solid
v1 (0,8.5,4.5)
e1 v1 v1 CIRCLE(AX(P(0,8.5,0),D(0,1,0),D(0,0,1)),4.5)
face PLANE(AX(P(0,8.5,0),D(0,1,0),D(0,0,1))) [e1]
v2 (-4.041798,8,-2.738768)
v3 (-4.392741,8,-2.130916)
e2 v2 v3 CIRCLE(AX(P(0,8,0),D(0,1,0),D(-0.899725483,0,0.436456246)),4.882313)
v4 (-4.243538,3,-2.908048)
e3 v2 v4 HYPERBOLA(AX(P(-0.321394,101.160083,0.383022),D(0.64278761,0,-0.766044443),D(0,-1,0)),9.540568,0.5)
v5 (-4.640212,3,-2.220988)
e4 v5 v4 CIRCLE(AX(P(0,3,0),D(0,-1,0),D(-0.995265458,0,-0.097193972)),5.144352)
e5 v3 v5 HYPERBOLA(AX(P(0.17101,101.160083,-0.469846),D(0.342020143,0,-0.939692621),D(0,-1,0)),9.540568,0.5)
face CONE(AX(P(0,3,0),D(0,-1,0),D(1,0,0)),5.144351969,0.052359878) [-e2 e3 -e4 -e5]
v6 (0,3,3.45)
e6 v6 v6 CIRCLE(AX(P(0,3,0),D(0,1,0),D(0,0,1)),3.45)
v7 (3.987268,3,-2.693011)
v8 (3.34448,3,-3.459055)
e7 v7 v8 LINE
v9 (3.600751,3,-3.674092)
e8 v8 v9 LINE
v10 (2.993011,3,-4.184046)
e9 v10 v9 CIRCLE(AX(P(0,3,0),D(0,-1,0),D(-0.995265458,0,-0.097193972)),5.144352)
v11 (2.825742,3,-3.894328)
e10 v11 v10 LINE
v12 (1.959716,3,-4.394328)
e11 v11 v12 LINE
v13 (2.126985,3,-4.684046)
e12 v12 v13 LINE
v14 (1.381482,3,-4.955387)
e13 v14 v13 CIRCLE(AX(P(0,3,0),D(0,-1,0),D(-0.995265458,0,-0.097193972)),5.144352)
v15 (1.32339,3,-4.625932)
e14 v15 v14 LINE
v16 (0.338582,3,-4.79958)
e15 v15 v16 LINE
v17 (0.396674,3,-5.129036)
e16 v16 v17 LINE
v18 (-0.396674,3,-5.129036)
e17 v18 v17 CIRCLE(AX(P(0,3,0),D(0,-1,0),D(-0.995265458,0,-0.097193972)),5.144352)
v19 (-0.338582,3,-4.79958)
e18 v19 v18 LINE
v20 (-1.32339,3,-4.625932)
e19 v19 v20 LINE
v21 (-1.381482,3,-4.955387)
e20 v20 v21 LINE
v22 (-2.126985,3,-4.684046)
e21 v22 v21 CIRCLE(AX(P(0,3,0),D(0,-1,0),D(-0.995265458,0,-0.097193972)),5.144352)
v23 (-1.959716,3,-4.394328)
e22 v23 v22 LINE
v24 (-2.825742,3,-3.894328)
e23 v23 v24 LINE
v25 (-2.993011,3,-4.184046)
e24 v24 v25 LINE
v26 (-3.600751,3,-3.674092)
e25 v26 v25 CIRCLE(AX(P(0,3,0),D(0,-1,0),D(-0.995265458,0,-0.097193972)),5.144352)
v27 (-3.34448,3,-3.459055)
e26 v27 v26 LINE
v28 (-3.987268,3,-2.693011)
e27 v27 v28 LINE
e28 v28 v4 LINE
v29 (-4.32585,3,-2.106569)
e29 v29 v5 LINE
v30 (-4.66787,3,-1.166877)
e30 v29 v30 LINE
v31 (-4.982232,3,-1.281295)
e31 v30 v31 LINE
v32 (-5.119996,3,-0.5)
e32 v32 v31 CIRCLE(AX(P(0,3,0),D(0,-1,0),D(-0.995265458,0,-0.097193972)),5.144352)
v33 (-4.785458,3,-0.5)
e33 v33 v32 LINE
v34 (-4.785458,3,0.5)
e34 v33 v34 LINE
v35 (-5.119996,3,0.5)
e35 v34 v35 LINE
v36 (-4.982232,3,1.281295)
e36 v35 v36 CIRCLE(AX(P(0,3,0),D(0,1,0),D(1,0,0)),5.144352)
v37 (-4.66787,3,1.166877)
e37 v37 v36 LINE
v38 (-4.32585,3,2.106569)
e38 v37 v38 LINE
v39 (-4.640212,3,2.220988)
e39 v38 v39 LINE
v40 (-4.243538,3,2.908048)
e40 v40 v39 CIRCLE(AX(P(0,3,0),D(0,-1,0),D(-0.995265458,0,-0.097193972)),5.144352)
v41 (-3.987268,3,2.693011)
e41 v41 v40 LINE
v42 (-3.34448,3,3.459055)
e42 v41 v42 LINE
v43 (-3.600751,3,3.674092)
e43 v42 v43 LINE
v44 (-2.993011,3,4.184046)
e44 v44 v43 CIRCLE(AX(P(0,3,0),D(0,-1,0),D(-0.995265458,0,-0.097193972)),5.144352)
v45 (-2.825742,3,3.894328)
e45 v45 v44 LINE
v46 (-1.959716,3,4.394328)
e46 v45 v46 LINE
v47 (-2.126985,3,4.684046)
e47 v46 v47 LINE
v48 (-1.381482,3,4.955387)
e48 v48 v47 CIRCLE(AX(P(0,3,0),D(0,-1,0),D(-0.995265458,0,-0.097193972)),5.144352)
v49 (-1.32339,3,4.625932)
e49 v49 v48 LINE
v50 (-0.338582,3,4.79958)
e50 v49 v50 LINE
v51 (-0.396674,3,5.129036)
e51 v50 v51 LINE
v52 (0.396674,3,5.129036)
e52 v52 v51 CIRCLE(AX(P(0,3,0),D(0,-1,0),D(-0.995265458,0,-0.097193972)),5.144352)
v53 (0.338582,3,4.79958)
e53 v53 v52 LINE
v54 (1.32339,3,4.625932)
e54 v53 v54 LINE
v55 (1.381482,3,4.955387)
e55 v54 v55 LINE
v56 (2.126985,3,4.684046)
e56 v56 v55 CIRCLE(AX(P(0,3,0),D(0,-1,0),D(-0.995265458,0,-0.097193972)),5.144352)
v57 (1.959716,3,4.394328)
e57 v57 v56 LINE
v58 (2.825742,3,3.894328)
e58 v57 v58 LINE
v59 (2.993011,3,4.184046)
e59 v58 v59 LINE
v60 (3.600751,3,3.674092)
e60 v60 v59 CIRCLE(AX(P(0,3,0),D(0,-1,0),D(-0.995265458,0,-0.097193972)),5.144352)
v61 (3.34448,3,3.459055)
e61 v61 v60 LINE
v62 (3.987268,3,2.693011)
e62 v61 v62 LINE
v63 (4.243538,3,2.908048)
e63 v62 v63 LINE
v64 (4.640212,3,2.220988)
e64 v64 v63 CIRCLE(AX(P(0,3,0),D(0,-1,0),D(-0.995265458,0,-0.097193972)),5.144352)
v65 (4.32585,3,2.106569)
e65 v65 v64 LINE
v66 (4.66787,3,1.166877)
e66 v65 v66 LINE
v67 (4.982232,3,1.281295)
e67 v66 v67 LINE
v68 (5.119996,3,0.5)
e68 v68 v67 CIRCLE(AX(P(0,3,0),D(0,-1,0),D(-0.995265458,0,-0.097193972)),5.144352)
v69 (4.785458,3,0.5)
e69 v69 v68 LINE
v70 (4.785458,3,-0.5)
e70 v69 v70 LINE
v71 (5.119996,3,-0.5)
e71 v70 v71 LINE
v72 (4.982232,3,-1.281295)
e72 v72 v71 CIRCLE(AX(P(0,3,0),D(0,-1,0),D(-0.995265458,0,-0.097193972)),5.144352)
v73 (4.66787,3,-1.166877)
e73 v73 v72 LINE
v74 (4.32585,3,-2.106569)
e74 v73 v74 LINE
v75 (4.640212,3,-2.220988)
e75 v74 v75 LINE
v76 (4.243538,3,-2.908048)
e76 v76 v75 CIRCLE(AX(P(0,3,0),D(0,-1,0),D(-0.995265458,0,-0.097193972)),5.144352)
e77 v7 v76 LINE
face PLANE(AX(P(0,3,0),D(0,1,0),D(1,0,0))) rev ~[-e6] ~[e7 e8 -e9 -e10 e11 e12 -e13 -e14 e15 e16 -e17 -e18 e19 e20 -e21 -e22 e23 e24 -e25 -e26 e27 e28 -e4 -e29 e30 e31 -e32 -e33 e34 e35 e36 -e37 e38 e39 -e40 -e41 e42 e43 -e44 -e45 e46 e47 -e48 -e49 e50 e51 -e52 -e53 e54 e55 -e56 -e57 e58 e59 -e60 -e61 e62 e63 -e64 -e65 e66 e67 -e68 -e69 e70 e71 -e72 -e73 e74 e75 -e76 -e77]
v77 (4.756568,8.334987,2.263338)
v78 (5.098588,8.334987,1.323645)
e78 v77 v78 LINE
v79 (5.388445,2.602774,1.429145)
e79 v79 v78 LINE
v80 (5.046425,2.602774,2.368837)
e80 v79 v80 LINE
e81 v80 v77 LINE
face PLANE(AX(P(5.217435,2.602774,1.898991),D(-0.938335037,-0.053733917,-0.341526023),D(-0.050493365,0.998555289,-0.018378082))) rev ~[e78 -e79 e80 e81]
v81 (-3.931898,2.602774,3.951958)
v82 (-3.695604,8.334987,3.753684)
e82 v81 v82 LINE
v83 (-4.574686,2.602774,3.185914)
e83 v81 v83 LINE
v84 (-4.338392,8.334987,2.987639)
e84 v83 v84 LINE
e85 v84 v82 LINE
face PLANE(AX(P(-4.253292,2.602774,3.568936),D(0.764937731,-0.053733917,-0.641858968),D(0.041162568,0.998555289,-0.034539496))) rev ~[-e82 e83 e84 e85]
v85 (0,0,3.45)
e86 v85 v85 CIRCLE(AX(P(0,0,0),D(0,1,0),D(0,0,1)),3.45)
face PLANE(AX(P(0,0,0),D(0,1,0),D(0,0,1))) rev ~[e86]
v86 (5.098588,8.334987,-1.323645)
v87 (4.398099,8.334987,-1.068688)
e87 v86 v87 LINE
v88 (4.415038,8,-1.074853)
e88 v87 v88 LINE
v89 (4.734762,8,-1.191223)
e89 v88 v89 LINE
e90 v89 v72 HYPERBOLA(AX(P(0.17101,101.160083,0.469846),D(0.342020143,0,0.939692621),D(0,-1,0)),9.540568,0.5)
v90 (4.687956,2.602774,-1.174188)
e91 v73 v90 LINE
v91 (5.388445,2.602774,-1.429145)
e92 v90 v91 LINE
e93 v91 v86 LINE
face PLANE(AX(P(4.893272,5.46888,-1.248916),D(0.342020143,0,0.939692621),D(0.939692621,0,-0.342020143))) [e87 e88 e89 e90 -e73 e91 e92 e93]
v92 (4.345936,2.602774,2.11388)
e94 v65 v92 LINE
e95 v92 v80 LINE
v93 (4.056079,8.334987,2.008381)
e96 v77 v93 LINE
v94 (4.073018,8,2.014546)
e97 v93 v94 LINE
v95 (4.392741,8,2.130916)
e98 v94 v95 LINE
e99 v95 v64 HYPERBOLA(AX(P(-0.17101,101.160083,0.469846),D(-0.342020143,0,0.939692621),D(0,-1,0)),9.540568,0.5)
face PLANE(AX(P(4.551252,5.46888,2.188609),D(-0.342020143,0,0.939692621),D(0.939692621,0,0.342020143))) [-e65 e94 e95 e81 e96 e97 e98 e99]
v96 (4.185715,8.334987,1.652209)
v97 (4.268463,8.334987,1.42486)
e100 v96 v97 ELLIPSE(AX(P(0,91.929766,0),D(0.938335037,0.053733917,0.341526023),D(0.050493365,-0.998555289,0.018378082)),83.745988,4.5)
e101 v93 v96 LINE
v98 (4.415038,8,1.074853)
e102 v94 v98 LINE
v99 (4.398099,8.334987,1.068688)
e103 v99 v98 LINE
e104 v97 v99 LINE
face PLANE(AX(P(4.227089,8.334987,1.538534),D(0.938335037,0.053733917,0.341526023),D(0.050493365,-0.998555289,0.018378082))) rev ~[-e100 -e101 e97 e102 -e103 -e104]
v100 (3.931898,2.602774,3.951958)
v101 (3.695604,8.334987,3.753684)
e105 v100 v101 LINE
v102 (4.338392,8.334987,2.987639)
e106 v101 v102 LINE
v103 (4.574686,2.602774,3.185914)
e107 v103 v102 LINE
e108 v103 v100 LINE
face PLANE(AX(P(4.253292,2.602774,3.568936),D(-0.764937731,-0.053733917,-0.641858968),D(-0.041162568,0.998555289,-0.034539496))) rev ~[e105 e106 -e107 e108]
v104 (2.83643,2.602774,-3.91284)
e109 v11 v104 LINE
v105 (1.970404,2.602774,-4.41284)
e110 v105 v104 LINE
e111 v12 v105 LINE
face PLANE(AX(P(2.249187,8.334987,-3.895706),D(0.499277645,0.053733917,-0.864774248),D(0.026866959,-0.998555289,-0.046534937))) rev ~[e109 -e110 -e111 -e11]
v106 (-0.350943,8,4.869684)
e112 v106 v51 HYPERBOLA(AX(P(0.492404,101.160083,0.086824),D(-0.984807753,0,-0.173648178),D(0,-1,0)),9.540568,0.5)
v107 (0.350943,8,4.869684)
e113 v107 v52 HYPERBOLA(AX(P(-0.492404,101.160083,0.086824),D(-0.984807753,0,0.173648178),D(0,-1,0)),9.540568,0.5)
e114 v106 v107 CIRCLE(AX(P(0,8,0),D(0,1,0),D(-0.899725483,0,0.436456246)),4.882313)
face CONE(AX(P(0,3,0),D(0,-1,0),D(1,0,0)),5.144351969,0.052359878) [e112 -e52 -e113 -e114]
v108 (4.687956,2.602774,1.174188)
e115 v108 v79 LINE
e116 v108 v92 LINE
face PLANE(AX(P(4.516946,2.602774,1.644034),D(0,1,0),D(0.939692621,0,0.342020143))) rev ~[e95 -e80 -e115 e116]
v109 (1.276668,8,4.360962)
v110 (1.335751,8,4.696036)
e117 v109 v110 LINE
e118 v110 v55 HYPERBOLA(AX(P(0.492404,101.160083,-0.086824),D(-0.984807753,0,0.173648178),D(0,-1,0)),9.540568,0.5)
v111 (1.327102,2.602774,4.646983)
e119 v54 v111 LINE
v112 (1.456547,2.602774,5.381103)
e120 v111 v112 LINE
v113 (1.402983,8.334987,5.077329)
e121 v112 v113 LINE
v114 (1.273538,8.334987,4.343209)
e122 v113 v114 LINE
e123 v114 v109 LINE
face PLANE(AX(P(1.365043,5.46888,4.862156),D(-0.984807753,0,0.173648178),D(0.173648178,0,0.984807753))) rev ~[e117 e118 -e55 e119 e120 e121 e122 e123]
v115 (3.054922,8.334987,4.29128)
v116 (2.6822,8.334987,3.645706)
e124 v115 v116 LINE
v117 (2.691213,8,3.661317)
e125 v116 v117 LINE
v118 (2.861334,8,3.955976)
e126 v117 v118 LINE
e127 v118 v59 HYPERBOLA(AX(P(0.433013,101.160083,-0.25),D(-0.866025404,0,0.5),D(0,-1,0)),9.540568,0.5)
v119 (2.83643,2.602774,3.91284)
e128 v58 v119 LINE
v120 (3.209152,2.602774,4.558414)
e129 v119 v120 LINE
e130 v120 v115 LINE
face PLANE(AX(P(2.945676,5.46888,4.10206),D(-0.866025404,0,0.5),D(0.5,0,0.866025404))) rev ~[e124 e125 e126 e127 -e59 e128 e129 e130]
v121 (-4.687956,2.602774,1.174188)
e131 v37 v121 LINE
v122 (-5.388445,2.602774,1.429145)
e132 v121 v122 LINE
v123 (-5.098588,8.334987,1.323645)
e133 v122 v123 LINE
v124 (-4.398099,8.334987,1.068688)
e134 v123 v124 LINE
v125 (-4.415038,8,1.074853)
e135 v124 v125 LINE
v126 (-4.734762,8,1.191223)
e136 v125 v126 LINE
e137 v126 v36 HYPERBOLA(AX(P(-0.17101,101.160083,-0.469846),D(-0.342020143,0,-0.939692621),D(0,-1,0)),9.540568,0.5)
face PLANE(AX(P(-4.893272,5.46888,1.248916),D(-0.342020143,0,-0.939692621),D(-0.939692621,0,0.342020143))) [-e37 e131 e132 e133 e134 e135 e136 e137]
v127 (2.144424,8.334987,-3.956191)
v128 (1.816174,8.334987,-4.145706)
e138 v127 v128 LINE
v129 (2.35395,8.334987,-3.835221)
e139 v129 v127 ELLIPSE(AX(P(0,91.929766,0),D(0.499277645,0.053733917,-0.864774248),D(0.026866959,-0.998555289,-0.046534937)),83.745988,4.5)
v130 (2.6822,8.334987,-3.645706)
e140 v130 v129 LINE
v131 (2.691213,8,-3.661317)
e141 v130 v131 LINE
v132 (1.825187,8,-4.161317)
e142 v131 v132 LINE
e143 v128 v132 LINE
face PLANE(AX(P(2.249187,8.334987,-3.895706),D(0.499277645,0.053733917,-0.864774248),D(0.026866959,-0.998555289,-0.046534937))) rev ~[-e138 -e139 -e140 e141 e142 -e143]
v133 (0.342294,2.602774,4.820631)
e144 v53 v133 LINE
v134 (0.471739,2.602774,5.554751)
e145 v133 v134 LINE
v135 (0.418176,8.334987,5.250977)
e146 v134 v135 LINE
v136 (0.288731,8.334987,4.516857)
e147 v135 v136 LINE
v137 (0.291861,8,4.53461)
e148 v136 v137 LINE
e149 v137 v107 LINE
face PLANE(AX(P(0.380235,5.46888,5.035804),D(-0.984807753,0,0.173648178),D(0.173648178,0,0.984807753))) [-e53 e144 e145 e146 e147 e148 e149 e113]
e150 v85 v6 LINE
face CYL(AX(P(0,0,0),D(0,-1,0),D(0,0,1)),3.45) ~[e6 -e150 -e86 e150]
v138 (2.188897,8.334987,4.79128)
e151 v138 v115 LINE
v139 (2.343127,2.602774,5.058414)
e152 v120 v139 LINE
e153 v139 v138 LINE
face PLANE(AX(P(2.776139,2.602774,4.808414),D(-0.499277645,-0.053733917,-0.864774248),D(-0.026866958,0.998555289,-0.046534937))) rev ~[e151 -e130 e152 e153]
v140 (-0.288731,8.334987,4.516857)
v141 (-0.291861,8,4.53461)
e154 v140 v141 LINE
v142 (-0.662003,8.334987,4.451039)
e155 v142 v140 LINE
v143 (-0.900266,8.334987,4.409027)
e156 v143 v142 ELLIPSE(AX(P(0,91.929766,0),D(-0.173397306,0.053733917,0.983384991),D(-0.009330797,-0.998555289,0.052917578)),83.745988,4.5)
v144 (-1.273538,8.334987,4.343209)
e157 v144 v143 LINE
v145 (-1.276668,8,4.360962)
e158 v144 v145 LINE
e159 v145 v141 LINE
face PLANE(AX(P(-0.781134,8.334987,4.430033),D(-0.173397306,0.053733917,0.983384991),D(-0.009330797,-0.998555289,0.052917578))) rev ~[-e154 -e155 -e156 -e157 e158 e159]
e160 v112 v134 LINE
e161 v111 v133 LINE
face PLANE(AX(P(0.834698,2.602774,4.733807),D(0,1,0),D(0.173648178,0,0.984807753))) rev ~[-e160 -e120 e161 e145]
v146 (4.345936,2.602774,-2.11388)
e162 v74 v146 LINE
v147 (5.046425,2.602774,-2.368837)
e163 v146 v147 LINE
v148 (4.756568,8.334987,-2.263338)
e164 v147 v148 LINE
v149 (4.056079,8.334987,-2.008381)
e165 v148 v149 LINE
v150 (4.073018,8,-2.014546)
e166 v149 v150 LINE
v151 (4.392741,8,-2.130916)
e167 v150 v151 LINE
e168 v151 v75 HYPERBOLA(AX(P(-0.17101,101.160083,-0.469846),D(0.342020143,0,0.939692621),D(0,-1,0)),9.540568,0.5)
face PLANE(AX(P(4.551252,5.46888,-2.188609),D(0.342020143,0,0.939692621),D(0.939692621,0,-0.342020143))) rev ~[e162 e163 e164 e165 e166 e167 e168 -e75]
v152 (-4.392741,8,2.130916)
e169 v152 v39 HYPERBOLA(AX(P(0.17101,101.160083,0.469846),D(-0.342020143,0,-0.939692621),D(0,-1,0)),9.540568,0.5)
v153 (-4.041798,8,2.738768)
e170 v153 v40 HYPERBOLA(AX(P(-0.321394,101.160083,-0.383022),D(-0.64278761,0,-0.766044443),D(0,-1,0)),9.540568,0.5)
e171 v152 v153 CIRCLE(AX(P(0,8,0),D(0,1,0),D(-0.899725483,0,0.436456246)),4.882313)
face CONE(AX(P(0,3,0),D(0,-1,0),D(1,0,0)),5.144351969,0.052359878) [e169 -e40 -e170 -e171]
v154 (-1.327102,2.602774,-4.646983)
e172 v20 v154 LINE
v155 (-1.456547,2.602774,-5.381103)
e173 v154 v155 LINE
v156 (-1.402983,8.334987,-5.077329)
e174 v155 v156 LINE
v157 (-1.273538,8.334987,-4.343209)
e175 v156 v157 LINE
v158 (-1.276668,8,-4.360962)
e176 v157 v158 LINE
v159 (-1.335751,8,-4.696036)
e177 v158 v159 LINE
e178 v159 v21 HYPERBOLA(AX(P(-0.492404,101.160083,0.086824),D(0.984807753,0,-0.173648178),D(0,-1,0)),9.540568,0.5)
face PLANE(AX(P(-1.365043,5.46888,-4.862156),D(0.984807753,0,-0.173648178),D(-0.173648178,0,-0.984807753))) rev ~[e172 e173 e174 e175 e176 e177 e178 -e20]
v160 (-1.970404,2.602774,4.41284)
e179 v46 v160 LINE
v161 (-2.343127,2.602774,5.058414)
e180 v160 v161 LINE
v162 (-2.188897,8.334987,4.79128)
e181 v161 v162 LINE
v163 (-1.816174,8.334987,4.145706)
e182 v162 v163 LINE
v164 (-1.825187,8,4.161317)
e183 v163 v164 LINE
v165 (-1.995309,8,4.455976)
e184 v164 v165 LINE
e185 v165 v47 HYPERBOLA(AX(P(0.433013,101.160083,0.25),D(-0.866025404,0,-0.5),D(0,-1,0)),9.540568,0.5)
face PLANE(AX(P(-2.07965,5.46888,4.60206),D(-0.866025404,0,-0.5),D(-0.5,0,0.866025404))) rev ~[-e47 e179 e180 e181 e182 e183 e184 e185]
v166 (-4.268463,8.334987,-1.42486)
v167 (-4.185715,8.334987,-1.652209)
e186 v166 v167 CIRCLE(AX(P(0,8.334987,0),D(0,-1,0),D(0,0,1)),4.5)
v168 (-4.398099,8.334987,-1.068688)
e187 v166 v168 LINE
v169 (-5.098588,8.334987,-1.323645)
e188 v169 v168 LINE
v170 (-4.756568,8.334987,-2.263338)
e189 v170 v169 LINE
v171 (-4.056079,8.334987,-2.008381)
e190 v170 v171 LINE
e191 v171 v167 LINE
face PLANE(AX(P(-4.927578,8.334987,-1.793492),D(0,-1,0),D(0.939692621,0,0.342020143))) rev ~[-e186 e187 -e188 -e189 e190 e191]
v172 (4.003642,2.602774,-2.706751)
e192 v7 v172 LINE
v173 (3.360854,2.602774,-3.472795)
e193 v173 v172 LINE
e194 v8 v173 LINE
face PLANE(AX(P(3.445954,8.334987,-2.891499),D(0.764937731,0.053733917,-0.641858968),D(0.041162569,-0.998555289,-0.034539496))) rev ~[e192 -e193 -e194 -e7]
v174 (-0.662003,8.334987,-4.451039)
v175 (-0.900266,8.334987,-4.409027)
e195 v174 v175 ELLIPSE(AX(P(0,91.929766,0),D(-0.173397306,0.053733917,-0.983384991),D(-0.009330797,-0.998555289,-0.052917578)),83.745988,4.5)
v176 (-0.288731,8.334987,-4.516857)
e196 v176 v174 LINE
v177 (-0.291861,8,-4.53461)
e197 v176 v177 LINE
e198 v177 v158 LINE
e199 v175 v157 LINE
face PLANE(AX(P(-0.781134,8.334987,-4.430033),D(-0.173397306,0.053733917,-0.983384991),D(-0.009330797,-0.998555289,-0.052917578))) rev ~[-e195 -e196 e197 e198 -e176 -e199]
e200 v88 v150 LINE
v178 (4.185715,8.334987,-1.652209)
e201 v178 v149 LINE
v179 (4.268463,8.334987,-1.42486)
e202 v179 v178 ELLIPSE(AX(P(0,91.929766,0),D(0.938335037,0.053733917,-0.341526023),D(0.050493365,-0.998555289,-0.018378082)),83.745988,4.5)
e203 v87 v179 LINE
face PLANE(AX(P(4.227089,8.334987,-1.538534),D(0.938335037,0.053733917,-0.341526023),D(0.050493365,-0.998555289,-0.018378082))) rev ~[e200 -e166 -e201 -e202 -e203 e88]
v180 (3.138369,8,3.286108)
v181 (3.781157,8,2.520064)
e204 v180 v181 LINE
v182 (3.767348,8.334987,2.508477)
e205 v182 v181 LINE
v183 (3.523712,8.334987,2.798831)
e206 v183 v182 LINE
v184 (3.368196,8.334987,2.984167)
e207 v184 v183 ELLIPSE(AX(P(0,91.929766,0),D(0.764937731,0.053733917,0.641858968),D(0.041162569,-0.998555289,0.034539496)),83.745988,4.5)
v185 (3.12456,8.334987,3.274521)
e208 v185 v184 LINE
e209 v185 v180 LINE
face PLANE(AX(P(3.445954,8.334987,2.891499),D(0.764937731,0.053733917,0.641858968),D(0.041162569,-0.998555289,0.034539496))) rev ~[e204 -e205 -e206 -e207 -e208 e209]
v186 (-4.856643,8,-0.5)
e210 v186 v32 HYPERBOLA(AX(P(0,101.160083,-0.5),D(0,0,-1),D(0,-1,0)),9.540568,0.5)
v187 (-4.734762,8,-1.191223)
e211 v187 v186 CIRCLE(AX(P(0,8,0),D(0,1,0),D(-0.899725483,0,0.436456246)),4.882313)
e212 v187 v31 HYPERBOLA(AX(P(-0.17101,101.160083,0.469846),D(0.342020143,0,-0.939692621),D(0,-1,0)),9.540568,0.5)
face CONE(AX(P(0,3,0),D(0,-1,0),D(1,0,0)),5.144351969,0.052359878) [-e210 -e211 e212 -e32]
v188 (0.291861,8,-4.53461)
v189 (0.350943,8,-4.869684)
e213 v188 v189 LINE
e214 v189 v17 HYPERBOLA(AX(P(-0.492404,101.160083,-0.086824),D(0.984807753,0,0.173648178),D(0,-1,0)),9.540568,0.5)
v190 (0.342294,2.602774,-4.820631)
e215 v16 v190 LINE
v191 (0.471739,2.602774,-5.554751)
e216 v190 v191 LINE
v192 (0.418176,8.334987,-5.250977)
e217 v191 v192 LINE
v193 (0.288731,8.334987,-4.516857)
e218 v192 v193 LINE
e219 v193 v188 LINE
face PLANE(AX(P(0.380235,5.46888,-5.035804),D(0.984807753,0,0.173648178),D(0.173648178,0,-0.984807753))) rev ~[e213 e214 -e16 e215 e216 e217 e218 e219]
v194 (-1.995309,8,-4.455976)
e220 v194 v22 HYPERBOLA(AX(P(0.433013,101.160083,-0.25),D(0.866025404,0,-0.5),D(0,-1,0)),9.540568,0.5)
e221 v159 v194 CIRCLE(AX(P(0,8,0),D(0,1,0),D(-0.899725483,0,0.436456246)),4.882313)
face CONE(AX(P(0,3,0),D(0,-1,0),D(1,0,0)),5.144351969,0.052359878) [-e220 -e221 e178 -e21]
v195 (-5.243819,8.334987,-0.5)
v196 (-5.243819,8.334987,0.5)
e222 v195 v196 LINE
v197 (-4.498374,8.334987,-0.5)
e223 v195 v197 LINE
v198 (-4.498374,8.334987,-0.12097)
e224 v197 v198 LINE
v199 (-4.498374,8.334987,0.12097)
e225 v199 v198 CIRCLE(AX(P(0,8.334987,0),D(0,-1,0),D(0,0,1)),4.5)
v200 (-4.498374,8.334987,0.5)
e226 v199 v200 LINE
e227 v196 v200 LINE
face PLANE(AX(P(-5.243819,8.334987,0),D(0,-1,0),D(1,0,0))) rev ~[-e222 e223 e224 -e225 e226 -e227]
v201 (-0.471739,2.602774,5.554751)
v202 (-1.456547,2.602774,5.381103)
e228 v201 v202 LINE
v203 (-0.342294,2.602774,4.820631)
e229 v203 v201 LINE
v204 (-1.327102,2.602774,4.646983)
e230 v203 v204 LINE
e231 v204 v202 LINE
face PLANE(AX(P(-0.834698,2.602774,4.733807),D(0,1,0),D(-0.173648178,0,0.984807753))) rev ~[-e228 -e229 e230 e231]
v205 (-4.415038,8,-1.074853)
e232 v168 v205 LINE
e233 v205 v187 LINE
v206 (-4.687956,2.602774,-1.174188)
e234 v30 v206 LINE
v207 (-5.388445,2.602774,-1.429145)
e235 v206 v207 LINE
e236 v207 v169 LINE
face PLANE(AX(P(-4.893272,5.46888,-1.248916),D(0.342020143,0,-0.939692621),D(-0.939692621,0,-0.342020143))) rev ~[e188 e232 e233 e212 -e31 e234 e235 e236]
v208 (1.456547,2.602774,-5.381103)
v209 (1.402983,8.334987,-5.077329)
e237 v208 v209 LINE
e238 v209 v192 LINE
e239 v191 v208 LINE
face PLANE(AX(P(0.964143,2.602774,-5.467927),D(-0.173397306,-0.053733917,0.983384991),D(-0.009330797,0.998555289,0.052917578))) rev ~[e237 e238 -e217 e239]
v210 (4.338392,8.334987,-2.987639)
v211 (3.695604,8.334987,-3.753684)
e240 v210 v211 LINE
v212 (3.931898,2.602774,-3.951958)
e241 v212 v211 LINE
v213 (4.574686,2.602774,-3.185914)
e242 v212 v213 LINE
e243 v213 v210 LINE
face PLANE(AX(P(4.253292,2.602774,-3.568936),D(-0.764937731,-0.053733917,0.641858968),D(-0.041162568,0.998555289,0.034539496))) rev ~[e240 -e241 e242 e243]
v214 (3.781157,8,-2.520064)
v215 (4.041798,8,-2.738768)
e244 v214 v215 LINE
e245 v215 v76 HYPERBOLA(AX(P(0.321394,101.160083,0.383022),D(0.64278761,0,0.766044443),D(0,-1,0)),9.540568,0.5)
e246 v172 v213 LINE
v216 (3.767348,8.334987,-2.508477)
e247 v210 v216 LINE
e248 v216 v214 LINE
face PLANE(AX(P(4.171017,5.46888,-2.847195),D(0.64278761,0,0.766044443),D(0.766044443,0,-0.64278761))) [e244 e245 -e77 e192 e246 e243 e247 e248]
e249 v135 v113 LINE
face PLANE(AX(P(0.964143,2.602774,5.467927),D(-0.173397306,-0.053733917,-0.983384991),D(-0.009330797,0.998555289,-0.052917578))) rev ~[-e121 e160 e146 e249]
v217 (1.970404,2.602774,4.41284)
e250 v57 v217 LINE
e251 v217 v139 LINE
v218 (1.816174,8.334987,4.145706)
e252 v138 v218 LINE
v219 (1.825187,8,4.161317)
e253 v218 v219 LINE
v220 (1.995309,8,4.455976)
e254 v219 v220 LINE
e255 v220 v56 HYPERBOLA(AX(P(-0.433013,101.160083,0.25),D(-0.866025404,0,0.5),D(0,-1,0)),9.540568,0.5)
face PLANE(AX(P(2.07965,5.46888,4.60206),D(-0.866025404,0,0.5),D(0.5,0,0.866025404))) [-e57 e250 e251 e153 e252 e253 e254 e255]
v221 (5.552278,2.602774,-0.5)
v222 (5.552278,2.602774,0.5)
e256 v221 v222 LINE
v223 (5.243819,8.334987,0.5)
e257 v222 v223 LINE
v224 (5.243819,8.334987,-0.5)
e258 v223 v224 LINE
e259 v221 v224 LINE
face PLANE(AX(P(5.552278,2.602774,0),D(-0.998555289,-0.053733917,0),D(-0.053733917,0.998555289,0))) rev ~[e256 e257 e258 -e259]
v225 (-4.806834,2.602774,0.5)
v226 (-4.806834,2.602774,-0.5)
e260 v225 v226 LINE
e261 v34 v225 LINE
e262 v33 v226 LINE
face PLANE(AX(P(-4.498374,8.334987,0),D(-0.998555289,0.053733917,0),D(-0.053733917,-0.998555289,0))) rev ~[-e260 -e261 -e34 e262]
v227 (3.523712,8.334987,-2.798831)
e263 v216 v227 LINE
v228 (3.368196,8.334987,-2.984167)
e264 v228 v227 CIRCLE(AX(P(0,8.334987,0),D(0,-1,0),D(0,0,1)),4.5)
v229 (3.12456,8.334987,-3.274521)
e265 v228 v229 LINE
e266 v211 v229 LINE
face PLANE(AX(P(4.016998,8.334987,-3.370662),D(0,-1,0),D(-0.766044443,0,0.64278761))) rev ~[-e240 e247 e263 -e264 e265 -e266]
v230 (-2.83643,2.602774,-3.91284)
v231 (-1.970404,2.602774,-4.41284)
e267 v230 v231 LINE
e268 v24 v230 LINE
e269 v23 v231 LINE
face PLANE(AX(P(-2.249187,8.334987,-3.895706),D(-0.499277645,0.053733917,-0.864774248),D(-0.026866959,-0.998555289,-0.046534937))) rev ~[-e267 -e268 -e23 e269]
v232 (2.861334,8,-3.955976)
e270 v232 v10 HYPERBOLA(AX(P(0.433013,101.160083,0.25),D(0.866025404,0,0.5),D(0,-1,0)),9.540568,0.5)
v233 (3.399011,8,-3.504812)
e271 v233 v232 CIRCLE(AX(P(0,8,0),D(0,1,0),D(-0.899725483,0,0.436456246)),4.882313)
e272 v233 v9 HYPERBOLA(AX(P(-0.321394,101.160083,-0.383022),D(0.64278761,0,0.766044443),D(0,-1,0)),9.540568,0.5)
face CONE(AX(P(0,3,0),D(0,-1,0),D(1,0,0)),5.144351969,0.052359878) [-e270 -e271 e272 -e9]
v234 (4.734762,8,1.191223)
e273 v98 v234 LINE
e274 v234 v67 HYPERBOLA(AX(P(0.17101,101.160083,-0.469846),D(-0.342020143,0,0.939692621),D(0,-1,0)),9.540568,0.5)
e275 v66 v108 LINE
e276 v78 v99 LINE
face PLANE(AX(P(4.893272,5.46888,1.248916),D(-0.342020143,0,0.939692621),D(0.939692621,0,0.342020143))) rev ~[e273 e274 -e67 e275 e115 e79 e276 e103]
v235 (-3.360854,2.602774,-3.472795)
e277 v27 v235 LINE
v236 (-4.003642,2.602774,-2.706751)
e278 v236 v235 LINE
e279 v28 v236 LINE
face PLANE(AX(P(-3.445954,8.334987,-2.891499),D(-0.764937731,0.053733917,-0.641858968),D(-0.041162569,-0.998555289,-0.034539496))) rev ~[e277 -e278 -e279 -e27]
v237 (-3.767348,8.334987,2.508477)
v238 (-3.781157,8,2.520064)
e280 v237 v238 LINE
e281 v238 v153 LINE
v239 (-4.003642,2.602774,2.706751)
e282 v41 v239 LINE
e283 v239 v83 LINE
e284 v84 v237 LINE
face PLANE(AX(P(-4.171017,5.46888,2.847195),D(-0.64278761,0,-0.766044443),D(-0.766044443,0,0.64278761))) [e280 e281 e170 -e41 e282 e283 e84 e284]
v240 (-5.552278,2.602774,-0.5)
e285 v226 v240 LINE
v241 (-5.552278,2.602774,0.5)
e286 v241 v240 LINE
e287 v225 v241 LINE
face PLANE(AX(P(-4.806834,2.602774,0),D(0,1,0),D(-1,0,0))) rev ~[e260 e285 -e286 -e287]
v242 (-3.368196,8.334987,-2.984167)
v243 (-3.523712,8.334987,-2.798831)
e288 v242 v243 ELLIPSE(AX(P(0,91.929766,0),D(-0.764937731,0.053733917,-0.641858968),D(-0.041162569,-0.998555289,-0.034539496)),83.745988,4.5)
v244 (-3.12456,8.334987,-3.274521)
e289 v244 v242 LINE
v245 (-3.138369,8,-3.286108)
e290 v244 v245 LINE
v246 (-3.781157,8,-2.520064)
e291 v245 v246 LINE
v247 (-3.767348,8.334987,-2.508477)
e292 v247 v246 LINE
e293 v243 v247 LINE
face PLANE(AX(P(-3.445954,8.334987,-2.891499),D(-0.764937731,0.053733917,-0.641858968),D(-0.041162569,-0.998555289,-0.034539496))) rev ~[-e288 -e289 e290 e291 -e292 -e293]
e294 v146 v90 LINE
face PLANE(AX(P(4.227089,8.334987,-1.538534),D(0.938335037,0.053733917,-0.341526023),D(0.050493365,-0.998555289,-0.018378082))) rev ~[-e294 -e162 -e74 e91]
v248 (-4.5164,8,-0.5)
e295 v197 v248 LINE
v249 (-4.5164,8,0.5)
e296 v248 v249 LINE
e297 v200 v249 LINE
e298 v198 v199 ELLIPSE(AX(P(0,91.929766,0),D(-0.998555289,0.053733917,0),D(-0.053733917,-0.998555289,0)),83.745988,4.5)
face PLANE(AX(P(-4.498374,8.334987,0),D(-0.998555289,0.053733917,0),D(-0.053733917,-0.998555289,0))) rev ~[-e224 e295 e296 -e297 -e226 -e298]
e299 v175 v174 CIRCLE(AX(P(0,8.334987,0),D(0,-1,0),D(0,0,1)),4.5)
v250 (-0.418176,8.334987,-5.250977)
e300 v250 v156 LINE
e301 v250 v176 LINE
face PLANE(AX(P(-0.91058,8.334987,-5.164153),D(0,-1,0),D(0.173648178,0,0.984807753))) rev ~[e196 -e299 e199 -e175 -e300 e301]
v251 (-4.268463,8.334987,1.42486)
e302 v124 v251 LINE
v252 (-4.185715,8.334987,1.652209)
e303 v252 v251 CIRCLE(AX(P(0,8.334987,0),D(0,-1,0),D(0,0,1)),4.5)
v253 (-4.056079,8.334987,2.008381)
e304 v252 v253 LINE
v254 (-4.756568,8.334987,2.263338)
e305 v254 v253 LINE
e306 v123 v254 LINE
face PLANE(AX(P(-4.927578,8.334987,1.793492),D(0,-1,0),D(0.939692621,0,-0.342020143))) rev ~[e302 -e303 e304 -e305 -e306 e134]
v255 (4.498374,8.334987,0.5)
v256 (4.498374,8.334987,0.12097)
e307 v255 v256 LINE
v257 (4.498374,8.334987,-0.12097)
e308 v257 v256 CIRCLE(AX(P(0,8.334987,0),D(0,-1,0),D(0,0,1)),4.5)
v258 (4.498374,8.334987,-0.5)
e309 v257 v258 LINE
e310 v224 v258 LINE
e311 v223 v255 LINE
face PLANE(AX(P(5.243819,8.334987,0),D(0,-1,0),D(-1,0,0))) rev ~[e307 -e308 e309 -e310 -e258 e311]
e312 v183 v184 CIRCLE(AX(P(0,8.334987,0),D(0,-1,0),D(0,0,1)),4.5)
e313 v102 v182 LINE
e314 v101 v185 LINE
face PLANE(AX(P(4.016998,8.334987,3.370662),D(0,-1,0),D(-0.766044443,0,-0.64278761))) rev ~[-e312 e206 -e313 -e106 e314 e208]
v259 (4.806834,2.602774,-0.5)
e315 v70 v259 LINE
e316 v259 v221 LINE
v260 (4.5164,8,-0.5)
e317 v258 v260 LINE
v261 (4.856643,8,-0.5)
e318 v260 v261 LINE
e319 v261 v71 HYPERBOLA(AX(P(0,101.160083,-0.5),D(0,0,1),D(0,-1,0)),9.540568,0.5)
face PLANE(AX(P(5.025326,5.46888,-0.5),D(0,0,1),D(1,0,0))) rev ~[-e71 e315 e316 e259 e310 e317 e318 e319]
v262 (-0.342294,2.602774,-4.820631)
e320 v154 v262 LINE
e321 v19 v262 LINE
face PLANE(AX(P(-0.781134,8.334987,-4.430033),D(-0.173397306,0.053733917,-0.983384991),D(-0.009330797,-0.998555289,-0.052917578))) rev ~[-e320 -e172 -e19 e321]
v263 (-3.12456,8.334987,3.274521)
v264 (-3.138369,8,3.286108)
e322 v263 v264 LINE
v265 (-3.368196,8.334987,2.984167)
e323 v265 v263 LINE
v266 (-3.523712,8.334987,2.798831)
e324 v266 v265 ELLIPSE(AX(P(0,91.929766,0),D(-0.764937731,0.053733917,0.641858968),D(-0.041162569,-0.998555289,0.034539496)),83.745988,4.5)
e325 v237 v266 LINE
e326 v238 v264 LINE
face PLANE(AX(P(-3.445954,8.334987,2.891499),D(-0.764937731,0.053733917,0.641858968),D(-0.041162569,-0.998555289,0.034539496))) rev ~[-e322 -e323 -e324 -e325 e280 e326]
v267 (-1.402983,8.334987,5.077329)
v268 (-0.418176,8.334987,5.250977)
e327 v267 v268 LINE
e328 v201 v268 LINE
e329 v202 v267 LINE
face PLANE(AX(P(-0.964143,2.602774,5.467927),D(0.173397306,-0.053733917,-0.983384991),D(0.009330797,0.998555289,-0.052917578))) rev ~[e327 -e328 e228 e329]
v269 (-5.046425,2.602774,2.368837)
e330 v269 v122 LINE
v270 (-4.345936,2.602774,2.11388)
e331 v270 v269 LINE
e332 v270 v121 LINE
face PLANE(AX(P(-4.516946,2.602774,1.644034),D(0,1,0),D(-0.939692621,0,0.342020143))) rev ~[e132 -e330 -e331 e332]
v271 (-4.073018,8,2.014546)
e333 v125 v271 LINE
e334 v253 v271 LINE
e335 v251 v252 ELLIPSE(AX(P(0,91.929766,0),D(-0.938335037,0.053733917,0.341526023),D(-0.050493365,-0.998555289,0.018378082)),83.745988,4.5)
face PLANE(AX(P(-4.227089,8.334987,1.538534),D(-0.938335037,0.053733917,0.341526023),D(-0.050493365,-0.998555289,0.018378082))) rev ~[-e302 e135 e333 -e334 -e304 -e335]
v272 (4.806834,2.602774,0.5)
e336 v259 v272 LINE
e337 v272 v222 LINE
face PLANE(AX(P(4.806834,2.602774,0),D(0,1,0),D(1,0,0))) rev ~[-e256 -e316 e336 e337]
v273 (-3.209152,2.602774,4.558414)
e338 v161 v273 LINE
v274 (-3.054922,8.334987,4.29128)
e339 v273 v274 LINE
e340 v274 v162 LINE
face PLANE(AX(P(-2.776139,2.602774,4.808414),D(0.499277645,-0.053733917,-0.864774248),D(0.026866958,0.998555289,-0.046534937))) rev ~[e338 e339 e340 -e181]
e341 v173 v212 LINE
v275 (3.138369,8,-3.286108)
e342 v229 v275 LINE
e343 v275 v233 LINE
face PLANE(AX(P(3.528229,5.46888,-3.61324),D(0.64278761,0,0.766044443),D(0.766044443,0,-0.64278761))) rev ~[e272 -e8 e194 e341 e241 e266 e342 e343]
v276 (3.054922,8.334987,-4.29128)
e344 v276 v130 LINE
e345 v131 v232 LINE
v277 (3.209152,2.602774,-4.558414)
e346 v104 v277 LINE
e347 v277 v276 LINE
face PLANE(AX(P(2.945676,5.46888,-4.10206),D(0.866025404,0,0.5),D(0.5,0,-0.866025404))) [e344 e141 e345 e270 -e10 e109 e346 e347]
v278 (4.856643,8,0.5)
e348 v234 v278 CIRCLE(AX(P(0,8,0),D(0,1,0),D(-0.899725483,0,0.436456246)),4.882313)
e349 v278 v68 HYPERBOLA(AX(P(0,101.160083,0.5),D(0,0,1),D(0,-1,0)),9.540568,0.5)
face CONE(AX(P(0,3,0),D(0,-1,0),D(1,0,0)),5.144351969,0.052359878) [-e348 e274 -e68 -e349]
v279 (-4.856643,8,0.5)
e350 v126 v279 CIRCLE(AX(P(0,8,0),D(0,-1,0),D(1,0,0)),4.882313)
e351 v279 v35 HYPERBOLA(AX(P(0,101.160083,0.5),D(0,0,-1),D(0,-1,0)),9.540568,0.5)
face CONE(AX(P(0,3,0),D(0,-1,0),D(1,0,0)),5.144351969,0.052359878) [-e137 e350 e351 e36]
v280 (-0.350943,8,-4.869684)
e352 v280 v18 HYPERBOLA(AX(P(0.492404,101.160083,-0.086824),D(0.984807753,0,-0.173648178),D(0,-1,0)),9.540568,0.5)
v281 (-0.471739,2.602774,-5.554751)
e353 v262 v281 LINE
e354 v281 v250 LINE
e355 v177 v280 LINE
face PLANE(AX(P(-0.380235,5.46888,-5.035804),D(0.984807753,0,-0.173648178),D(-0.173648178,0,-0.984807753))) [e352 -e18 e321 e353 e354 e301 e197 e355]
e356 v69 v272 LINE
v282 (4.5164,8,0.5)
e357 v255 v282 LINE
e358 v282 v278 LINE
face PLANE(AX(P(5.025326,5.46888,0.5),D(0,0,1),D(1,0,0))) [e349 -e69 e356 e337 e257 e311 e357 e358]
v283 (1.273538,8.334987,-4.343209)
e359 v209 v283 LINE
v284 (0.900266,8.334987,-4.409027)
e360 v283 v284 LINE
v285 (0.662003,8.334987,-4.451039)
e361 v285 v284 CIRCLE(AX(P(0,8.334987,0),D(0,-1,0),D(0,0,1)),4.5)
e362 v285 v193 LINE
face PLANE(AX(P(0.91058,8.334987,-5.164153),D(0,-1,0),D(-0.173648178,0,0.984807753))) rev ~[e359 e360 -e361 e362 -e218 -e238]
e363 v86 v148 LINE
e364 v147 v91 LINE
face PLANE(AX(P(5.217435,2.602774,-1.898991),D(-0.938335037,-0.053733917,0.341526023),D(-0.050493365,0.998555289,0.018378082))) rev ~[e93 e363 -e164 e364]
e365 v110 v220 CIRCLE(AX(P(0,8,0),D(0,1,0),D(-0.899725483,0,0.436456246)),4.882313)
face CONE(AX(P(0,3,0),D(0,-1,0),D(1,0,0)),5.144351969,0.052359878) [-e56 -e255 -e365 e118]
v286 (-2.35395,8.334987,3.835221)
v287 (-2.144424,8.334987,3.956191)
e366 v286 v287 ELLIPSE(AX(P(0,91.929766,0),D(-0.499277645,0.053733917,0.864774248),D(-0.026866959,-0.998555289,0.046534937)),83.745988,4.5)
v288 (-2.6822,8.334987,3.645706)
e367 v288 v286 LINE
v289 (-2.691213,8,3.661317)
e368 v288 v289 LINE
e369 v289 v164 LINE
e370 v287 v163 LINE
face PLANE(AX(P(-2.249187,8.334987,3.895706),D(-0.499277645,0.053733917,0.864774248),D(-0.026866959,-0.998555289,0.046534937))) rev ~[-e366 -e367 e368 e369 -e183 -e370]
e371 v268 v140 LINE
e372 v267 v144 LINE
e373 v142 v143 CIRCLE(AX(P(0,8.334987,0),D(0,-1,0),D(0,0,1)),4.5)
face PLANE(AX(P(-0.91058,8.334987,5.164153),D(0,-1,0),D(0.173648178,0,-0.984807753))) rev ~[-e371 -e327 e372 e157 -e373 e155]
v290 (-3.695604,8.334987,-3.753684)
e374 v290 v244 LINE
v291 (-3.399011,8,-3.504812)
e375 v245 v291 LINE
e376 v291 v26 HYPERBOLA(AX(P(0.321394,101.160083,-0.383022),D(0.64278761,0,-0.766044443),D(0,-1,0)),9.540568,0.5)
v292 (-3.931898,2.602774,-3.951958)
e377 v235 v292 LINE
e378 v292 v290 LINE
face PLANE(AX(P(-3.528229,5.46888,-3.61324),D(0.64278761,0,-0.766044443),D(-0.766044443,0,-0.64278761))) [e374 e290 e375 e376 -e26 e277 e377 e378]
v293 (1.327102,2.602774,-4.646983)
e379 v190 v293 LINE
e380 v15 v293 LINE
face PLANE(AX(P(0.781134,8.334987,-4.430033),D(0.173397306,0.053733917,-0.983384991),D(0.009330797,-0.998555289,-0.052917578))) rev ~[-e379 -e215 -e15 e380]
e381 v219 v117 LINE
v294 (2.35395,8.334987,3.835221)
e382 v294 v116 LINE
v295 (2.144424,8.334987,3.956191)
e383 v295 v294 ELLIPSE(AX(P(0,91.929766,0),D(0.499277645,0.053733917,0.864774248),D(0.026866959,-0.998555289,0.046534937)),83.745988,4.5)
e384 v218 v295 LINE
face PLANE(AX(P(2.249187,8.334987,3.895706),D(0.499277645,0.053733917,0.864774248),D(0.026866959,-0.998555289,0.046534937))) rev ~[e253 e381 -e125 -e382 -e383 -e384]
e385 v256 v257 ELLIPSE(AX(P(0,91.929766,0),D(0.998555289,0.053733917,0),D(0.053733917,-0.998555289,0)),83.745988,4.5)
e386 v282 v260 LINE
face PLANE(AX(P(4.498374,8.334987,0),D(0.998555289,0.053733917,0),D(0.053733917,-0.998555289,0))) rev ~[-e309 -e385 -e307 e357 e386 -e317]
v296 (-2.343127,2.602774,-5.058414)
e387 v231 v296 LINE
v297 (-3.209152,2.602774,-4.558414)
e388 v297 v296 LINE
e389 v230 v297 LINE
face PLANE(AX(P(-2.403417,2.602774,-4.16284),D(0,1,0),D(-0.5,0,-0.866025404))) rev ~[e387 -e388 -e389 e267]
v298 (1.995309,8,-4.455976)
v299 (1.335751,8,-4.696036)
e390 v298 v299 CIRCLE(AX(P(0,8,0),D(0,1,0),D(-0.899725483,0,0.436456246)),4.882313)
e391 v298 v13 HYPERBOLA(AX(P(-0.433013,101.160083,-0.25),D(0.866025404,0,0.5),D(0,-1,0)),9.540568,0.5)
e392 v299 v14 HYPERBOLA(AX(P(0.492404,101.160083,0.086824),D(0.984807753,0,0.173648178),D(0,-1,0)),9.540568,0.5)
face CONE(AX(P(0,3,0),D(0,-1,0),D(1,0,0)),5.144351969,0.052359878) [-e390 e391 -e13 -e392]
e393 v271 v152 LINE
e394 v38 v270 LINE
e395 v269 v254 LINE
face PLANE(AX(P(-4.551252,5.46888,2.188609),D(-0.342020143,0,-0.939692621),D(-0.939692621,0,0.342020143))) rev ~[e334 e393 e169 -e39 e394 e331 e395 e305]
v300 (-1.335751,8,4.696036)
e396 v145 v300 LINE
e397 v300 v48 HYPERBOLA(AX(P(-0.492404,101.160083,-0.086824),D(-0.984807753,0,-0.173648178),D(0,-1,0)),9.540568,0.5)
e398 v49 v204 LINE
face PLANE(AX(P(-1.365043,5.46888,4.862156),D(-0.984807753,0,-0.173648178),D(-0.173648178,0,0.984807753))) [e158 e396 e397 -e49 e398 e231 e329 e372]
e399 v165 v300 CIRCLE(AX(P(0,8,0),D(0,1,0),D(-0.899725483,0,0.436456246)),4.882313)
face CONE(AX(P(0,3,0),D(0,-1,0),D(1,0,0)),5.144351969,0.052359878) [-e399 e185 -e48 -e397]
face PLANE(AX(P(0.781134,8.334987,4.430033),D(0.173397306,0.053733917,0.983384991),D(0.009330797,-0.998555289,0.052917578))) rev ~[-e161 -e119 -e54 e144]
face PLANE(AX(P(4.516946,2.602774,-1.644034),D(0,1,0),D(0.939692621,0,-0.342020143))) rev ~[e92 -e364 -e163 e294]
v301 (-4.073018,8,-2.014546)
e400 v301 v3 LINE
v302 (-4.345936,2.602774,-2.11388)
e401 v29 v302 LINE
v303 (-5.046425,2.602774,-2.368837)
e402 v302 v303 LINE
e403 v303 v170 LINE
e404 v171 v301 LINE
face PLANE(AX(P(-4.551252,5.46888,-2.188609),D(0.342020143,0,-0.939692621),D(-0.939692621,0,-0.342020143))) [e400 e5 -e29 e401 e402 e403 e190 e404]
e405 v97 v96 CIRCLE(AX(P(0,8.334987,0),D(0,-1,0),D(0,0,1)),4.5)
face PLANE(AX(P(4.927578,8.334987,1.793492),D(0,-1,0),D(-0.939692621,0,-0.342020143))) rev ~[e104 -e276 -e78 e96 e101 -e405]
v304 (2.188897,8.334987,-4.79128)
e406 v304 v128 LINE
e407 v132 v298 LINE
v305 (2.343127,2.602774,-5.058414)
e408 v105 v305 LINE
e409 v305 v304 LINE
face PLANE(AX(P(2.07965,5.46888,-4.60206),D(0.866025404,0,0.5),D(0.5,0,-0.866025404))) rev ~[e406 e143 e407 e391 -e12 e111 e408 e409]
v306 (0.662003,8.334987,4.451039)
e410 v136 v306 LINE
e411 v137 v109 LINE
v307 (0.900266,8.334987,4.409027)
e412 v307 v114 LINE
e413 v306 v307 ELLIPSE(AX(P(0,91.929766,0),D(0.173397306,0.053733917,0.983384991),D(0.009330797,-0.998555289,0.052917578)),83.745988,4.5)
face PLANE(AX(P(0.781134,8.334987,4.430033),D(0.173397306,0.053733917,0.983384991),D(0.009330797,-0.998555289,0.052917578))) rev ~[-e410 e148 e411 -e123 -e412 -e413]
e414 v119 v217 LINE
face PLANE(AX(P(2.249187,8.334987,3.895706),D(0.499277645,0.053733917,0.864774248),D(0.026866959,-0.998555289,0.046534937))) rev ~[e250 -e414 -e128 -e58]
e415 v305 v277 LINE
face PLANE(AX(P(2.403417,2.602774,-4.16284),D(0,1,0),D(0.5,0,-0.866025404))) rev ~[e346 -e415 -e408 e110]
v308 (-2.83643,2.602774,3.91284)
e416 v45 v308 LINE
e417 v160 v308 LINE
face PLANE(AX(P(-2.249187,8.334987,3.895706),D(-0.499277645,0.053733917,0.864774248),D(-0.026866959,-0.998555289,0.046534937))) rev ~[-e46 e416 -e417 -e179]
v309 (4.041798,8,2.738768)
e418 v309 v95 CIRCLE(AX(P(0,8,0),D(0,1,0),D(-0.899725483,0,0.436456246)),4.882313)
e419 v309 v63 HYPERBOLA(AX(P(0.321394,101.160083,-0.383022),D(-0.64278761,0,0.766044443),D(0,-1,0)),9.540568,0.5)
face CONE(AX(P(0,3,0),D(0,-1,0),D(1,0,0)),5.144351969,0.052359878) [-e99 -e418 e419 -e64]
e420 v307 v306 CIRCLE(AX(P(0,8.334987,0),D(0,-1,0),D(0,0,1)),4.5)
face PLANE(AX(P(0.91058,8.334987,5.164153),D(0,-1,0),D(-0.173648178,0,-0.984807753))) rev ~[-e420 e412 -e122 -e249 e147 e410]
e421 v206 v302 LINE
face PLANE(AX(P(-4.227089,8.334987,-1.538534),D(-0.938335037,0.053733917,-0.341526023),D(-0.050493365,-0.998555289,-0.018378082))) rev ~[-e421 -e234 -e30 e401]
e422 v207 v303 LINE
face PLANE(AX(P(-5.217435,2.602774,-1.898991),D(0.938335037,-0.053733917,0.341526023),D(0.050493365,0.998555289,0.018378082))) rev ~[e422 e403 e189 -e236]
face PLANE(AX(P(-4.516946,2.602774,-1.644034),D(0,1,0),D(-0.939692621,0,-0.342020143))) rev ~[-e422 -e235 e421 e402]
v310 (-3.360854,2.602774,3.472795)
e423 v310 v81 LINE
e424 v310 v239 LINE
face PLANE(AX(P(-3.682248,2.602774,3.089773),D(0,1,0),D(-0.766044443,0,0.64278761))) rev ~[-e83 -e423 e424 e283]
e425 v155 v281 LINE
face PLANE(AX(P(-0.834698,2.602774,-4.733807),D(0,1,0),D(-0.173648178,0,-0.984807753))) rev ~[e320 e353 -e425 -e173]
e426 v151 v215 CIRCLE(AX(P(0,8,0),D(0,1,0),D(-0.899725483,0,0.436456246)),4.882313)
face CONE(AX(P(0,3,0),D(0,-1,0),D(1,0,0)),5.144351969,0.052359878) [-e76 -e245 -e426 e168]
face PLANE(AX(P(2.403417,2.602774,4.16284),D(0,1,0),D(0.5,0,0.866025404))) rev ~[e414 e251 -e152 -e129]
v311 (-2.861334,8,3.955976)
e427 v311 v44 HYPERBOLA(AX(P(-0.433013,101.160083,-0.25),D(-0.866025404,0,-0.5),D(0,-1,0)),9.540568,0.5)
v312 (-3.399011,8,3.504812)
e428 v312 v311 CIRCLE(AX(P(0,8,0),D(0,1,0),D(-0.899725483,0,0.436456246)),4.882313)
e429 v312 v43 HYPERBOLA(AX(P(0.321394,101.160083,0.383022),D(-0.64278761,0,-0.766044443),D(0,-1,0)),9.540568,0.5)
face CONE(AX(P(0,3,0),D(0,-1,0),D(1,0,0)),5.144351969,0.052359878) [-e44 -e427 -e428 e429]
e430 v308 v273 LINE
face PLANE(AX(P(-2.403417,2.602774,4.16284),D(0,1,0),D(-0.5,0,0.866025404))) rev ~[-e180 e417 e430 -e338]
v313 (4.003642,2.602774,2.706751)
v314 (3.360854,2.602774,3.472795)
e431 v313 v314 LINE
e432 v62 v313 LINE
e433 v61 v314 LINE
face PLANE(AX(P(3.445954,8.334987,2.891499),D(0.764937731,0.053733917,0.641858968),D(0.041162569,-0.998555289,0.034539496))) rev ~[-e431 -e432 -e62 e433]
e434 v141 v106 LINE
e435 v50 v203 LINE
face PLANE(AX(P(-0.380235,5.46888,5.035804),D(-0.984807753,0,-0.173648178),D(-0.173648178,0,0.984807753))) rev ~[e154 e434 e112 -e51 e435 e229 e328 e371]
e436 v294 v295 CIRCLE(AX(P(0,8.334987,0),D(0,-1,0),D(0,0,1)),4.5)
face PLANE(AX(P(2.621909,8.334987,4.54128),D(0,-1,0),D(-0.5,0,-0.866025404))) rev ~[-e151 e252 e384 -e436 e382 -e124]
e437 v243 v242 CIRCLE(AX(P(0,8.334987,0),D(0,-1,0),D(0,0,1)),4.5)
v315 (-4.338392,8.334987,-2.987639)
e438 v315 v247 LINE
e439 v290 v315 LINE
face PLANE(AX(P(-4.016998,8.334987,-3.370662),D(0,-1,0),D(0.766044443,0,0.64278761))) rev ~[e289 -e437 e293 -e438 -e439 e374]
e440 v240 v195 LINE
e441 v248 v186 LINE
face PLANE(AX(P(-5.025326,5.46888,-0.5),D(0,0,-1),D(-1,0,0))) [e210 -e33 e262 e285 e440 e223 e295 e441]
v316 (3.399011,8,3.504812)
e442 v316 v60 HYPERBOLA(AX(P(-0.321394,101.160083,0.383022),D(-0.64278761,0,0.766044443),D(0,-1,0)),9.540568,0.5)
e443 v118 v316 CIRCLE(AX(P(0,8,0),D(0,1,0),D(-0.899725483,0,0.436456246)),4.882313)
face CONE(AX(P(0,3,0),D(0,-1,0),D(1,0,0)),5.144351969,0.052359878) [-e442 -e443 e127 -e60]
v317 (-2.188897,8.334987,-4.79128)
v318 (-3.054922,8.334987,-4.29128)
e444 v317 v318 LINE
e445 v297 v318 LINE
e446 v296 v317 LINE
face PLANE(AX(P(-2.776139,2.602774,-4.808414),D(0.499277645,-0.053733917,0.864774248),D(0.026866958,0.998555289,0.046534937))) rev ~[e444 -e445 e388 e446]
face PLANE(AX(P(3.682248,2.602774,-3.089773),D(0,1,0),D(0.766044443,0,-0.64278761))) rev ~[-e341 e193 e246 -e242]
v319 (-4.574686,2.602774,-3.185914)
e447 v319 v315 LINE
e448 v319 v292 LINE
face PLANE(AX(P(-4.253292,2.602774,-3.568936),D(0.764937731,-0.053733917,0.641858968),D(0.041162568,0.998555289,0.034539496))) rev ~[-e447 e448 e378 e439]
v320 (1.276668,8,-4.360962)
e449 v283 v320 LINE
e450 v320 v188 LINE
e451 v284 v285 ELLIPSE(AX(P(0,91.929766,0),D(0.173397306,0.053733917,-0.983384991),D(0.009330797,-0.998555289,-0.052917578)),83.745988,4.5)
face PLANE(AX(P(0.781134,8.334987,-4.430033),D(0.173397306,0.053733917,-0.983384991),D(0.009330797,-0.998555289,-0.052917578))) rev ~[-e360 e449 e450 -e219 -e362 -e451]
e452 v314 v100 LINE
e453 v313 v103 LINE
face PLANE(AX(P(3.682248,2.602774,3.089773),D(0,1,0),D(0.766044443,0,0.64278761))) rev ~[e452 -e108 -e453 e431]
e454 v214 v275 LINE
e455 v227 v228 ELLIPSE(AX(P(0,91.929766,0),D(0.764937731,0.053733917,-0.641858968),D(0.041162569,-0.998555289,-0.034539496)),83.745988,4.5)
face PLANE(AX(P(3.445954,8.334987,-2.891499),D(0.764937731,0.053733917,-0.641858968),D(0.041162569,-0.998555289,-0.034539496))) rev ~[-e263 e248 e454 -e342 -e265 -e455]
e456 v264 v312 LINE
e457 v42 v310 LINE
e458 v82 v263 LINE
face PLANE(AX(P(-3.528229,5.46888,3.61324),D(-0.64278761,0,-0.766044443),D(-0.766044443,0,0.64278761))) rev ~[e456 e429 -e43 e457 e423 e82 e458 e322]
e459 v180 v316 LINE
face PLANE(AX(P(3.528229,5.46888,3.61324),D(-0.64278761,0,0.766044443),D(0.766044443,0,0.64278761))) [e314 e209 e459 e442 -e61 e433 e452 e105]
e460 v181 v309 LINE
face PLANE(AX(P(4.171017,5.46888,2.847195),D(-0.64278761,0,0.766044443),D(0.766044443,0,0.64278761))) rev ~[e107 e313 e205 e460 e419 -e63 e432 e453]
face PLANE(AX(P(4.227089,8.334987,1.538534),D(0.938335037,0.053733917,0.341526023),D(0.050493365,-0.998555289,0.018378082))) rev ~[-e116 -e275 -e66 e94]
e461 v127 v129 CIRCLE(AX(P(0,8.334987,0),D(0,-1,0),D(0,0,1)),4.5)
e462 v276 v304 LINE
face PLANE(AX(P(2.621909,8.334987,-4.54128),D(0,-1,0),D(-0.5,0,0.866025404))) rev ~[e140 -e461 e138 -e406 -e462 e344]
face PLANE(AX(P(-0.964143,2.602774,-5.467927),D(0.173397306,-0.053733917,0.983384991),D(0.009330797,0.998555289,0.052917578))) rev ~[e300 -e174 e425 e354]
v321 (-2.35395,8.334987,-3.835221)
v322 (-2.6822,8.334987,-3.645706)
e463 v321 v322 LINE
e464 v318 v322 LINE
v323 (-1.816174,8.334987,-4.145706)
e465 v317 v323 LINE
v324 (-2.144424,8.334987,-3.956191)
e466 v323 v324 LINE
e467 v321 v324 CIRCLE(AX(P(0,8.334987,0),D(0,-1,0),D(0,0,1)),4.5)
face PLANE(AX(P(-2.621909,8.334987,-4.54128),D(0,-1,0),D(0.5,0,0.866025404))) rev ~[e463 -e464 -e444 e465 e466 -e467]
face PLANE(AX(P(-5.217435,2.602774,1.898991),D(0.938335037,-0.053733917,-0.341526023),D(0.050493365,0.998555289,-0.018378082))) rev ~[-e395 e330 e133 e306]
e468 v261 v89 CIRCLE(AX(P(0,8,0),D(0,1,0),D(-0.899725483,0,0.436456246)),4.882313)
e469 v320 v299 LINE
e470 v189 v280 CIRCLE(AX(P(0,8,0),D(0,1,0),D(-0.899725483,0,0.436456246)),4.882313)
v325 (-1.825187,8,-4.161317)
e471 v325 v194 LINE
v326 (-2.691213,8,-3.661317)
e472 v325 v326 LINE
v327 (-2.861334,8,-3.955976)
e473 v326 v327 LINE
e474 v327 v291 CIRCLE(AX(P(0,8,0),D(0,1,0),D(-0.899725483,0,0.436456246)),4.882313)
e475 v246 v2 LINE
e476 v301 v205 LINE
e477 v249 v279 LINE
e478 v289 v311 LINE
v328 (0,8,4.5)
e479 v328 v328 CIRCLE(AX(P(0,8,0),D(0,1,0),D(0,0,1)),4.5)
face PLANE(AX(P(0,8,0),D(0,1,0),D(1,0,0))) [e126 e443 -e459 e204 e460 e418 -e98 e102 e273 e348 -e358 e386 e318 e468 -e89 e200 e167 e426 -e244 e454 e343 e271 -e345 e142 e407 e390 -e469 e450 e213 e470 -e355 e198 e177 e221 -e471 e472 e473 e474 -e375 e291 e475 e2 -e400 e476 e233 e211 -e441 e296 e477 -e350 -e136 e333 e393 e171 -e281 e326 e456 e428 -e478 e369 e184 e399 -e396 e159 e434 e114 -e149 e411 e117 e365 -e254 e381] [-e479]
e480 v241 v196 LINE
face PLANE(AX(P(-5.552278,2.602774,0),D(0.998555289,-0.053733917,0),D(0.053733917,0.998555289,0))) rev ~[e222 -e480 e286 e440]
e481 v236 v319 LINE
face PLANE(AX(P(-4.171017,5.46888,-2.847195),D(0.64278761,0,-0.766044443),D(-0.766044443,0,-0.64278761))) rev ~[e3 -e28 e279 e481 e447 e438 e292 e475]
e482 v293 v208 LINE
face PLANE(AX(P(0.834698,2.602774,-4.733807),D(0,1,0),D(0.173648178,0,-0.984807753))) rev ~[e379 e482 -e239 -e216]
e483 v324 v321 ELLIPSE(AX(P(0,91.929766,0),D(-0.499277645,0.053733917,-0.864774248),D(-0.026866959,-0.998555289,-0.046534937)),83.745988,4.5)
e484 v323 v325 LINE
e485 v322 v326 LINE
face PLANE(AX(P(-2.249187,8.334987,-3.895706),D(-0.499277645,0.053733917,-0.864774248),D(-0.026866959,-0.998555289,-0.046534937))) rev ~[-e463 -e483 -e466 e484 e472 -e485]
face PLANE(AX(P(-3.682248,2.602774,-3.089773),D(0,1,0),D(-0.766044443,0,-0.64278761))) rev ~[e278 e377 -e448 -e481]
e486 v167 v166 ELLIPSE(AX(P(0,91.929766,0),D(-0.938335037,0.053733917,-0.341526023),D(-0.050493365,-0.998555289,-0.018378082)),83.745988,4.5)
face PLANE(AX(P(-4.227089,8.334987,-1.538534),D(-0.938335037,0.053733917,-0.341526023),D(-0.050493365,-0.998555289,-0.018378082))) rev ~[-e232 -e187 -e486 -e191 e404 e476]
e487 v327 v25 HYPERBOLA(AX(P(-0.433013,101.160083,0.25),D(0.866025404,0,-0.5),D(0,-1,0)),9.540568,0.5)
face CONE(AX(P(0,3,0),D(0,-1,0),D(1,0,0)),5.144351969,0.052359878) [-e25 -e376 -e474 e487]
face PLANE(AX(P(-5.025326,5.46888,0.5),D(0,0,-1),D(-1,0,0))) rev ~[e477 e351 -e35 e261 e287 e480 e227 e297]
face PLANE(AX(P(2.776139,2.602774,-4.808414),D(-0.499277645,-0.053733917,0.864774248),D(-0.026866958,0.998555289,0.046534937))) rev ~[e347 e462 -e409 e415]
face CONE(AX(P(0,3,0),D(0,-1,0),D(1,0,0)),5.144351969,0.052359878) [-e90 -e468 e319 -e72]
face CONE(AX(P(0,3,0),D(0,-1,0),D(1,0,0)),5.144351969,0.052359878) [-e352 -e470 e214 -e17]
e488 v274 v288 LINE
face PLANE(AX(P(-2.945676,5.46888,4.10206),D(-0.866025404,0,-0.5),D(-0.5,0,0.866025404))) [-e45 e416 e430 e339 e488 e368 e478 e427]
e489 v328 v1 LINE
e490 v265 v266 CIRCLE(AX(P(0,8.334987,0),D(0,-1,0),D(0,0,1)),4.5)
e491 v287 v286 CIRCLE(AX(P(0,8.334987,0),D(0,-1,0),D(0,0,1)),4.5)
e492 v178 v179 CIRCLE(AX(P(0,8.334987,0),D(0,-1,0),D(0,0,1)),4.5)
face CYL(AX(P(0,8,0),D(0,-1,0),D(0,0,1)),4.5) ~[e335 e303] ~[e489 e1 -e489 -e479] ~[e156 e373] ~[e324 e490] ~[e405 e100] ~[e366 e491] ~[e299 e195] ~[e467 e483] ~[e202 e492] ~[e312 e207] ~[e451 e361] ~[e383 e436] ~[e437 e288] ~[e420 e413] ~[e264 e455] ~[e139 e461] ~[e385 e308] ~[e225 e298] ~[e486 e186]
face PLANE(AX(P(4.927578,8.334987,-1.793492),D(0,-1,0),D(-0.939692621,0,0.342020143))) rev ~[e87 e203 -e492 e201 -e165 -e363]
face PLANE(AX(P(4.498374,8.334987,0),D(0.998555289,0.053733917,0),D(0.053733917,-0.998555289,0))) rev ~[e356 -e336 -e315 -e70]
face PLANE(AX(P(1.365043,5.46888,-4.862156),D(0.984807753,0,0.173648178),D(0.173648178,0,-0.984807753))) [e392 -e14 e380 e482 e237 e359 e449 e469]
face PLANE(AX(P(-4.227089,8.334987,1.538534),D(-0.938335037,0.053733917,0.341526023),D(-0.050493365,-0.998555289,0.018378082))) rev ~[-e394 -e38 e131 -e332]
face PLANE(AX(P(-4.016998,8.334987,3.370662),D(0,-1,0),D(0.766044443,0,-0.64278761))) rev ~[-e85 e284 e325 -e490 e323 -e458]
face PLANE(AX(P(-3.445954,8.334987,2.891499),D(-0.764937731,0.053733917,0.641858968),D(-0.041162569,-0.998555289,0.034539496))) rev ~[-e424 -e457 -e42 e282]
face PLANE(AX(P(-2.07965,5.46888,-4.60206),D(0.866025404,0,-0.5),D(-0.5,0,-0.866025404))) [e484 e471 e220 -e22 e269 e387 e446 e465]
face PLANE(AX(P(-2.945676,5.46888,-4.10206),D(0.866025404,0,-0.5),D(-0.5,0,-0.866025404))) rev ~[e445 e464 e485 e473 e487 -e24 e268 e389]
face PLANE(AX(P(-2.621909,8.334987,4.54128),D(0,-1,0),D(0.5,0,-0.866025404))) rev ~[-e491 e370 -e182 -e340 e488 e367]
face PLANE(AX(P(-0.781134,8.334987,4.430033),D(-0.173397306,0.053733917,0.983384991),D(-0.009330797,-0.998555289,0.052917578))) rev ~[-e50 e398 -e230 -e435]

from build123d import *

# Parameters (mm, degrees)
SKETCH1_R           = 3.45
BOSS_EXTRUDE1_DEPTH = 3
SKETCH2_R           = 5.144351969
BOSS_EXTRUDE2_DEPTH = 5
BOSS_EXTRUDE2_TAPER = 3
BOSS_EXTRUDE3_DEPTH = 0.5
CIRPATTERN1_COUNT   = 18
SKETCH5_R           = 4.5
BOSS_EXTRUDE5_DEPTH = 0.5


with BuildPart() as part:
    # Sketch1 → Boss-Extrude1 (new body)
    with BuildSketch(Plane(origin=(0, 0, 0), x_dir=(1, 0, 0), z_dir=(0, 1, 0))):
        with Locations(Location((0, 0, 0), (0, 0, 270))):
            Circle(SKETCH1_R)
    extrude(amount=BOSS_EXTRUDE1_DEPTH)

    # Sketch2 → Boss-Extrude2 (add)
    with BuildSketch(Plane(origin=(0, 3, 0), x_dir=(1, 0, 0), z_dir=(0, 1, 0))):
        Circle(SKETCH2_R)
    extrude(amount=BOSS_EXTRUDE2_DEPTH, taper=BOSS_EXTRUDE2_TAPER)

    # Sketch4 → Boss-Extrude3 (add, symmetric)
    with BuildSketch(Plane.XY):
        Polygon((-4.498373747, 8.334987069), (-4.806833662, 2.602773665), (-5.552278454, 2.602773665), (-5.24381854, 8.334987069), align=None)
    boss_extrude3 = extrude(amount=BOSS_EXTRUDE3_DEPTH, both=True)

    # CirPattern1: Boss-Extrude3 ×18 about axis
    cirpattern1_axis = Axis((0, 0, 0), (0, 1, 0))
    for i in range(1, CIRPATTERN1_COUNT):
        add(boss_extrude3.rotate(cirpattern1_axis, i * 360 / CIRPATTERN1_COUNT))

    # Sketch5 → Boss-Extrude5 (add)
    with BuildSketch(Plane(origin=(0, 8, 0), x_dir=(1, 0, 0), z_dir=(0, 1, 0))):
        with Locations(Location((0, 0, 0), (0, 0, 270))):
            Circle(SKETCH5_R)
    extrude(amount=BOSS_EXTRUDE5_DEPTH)


solid = part.part
